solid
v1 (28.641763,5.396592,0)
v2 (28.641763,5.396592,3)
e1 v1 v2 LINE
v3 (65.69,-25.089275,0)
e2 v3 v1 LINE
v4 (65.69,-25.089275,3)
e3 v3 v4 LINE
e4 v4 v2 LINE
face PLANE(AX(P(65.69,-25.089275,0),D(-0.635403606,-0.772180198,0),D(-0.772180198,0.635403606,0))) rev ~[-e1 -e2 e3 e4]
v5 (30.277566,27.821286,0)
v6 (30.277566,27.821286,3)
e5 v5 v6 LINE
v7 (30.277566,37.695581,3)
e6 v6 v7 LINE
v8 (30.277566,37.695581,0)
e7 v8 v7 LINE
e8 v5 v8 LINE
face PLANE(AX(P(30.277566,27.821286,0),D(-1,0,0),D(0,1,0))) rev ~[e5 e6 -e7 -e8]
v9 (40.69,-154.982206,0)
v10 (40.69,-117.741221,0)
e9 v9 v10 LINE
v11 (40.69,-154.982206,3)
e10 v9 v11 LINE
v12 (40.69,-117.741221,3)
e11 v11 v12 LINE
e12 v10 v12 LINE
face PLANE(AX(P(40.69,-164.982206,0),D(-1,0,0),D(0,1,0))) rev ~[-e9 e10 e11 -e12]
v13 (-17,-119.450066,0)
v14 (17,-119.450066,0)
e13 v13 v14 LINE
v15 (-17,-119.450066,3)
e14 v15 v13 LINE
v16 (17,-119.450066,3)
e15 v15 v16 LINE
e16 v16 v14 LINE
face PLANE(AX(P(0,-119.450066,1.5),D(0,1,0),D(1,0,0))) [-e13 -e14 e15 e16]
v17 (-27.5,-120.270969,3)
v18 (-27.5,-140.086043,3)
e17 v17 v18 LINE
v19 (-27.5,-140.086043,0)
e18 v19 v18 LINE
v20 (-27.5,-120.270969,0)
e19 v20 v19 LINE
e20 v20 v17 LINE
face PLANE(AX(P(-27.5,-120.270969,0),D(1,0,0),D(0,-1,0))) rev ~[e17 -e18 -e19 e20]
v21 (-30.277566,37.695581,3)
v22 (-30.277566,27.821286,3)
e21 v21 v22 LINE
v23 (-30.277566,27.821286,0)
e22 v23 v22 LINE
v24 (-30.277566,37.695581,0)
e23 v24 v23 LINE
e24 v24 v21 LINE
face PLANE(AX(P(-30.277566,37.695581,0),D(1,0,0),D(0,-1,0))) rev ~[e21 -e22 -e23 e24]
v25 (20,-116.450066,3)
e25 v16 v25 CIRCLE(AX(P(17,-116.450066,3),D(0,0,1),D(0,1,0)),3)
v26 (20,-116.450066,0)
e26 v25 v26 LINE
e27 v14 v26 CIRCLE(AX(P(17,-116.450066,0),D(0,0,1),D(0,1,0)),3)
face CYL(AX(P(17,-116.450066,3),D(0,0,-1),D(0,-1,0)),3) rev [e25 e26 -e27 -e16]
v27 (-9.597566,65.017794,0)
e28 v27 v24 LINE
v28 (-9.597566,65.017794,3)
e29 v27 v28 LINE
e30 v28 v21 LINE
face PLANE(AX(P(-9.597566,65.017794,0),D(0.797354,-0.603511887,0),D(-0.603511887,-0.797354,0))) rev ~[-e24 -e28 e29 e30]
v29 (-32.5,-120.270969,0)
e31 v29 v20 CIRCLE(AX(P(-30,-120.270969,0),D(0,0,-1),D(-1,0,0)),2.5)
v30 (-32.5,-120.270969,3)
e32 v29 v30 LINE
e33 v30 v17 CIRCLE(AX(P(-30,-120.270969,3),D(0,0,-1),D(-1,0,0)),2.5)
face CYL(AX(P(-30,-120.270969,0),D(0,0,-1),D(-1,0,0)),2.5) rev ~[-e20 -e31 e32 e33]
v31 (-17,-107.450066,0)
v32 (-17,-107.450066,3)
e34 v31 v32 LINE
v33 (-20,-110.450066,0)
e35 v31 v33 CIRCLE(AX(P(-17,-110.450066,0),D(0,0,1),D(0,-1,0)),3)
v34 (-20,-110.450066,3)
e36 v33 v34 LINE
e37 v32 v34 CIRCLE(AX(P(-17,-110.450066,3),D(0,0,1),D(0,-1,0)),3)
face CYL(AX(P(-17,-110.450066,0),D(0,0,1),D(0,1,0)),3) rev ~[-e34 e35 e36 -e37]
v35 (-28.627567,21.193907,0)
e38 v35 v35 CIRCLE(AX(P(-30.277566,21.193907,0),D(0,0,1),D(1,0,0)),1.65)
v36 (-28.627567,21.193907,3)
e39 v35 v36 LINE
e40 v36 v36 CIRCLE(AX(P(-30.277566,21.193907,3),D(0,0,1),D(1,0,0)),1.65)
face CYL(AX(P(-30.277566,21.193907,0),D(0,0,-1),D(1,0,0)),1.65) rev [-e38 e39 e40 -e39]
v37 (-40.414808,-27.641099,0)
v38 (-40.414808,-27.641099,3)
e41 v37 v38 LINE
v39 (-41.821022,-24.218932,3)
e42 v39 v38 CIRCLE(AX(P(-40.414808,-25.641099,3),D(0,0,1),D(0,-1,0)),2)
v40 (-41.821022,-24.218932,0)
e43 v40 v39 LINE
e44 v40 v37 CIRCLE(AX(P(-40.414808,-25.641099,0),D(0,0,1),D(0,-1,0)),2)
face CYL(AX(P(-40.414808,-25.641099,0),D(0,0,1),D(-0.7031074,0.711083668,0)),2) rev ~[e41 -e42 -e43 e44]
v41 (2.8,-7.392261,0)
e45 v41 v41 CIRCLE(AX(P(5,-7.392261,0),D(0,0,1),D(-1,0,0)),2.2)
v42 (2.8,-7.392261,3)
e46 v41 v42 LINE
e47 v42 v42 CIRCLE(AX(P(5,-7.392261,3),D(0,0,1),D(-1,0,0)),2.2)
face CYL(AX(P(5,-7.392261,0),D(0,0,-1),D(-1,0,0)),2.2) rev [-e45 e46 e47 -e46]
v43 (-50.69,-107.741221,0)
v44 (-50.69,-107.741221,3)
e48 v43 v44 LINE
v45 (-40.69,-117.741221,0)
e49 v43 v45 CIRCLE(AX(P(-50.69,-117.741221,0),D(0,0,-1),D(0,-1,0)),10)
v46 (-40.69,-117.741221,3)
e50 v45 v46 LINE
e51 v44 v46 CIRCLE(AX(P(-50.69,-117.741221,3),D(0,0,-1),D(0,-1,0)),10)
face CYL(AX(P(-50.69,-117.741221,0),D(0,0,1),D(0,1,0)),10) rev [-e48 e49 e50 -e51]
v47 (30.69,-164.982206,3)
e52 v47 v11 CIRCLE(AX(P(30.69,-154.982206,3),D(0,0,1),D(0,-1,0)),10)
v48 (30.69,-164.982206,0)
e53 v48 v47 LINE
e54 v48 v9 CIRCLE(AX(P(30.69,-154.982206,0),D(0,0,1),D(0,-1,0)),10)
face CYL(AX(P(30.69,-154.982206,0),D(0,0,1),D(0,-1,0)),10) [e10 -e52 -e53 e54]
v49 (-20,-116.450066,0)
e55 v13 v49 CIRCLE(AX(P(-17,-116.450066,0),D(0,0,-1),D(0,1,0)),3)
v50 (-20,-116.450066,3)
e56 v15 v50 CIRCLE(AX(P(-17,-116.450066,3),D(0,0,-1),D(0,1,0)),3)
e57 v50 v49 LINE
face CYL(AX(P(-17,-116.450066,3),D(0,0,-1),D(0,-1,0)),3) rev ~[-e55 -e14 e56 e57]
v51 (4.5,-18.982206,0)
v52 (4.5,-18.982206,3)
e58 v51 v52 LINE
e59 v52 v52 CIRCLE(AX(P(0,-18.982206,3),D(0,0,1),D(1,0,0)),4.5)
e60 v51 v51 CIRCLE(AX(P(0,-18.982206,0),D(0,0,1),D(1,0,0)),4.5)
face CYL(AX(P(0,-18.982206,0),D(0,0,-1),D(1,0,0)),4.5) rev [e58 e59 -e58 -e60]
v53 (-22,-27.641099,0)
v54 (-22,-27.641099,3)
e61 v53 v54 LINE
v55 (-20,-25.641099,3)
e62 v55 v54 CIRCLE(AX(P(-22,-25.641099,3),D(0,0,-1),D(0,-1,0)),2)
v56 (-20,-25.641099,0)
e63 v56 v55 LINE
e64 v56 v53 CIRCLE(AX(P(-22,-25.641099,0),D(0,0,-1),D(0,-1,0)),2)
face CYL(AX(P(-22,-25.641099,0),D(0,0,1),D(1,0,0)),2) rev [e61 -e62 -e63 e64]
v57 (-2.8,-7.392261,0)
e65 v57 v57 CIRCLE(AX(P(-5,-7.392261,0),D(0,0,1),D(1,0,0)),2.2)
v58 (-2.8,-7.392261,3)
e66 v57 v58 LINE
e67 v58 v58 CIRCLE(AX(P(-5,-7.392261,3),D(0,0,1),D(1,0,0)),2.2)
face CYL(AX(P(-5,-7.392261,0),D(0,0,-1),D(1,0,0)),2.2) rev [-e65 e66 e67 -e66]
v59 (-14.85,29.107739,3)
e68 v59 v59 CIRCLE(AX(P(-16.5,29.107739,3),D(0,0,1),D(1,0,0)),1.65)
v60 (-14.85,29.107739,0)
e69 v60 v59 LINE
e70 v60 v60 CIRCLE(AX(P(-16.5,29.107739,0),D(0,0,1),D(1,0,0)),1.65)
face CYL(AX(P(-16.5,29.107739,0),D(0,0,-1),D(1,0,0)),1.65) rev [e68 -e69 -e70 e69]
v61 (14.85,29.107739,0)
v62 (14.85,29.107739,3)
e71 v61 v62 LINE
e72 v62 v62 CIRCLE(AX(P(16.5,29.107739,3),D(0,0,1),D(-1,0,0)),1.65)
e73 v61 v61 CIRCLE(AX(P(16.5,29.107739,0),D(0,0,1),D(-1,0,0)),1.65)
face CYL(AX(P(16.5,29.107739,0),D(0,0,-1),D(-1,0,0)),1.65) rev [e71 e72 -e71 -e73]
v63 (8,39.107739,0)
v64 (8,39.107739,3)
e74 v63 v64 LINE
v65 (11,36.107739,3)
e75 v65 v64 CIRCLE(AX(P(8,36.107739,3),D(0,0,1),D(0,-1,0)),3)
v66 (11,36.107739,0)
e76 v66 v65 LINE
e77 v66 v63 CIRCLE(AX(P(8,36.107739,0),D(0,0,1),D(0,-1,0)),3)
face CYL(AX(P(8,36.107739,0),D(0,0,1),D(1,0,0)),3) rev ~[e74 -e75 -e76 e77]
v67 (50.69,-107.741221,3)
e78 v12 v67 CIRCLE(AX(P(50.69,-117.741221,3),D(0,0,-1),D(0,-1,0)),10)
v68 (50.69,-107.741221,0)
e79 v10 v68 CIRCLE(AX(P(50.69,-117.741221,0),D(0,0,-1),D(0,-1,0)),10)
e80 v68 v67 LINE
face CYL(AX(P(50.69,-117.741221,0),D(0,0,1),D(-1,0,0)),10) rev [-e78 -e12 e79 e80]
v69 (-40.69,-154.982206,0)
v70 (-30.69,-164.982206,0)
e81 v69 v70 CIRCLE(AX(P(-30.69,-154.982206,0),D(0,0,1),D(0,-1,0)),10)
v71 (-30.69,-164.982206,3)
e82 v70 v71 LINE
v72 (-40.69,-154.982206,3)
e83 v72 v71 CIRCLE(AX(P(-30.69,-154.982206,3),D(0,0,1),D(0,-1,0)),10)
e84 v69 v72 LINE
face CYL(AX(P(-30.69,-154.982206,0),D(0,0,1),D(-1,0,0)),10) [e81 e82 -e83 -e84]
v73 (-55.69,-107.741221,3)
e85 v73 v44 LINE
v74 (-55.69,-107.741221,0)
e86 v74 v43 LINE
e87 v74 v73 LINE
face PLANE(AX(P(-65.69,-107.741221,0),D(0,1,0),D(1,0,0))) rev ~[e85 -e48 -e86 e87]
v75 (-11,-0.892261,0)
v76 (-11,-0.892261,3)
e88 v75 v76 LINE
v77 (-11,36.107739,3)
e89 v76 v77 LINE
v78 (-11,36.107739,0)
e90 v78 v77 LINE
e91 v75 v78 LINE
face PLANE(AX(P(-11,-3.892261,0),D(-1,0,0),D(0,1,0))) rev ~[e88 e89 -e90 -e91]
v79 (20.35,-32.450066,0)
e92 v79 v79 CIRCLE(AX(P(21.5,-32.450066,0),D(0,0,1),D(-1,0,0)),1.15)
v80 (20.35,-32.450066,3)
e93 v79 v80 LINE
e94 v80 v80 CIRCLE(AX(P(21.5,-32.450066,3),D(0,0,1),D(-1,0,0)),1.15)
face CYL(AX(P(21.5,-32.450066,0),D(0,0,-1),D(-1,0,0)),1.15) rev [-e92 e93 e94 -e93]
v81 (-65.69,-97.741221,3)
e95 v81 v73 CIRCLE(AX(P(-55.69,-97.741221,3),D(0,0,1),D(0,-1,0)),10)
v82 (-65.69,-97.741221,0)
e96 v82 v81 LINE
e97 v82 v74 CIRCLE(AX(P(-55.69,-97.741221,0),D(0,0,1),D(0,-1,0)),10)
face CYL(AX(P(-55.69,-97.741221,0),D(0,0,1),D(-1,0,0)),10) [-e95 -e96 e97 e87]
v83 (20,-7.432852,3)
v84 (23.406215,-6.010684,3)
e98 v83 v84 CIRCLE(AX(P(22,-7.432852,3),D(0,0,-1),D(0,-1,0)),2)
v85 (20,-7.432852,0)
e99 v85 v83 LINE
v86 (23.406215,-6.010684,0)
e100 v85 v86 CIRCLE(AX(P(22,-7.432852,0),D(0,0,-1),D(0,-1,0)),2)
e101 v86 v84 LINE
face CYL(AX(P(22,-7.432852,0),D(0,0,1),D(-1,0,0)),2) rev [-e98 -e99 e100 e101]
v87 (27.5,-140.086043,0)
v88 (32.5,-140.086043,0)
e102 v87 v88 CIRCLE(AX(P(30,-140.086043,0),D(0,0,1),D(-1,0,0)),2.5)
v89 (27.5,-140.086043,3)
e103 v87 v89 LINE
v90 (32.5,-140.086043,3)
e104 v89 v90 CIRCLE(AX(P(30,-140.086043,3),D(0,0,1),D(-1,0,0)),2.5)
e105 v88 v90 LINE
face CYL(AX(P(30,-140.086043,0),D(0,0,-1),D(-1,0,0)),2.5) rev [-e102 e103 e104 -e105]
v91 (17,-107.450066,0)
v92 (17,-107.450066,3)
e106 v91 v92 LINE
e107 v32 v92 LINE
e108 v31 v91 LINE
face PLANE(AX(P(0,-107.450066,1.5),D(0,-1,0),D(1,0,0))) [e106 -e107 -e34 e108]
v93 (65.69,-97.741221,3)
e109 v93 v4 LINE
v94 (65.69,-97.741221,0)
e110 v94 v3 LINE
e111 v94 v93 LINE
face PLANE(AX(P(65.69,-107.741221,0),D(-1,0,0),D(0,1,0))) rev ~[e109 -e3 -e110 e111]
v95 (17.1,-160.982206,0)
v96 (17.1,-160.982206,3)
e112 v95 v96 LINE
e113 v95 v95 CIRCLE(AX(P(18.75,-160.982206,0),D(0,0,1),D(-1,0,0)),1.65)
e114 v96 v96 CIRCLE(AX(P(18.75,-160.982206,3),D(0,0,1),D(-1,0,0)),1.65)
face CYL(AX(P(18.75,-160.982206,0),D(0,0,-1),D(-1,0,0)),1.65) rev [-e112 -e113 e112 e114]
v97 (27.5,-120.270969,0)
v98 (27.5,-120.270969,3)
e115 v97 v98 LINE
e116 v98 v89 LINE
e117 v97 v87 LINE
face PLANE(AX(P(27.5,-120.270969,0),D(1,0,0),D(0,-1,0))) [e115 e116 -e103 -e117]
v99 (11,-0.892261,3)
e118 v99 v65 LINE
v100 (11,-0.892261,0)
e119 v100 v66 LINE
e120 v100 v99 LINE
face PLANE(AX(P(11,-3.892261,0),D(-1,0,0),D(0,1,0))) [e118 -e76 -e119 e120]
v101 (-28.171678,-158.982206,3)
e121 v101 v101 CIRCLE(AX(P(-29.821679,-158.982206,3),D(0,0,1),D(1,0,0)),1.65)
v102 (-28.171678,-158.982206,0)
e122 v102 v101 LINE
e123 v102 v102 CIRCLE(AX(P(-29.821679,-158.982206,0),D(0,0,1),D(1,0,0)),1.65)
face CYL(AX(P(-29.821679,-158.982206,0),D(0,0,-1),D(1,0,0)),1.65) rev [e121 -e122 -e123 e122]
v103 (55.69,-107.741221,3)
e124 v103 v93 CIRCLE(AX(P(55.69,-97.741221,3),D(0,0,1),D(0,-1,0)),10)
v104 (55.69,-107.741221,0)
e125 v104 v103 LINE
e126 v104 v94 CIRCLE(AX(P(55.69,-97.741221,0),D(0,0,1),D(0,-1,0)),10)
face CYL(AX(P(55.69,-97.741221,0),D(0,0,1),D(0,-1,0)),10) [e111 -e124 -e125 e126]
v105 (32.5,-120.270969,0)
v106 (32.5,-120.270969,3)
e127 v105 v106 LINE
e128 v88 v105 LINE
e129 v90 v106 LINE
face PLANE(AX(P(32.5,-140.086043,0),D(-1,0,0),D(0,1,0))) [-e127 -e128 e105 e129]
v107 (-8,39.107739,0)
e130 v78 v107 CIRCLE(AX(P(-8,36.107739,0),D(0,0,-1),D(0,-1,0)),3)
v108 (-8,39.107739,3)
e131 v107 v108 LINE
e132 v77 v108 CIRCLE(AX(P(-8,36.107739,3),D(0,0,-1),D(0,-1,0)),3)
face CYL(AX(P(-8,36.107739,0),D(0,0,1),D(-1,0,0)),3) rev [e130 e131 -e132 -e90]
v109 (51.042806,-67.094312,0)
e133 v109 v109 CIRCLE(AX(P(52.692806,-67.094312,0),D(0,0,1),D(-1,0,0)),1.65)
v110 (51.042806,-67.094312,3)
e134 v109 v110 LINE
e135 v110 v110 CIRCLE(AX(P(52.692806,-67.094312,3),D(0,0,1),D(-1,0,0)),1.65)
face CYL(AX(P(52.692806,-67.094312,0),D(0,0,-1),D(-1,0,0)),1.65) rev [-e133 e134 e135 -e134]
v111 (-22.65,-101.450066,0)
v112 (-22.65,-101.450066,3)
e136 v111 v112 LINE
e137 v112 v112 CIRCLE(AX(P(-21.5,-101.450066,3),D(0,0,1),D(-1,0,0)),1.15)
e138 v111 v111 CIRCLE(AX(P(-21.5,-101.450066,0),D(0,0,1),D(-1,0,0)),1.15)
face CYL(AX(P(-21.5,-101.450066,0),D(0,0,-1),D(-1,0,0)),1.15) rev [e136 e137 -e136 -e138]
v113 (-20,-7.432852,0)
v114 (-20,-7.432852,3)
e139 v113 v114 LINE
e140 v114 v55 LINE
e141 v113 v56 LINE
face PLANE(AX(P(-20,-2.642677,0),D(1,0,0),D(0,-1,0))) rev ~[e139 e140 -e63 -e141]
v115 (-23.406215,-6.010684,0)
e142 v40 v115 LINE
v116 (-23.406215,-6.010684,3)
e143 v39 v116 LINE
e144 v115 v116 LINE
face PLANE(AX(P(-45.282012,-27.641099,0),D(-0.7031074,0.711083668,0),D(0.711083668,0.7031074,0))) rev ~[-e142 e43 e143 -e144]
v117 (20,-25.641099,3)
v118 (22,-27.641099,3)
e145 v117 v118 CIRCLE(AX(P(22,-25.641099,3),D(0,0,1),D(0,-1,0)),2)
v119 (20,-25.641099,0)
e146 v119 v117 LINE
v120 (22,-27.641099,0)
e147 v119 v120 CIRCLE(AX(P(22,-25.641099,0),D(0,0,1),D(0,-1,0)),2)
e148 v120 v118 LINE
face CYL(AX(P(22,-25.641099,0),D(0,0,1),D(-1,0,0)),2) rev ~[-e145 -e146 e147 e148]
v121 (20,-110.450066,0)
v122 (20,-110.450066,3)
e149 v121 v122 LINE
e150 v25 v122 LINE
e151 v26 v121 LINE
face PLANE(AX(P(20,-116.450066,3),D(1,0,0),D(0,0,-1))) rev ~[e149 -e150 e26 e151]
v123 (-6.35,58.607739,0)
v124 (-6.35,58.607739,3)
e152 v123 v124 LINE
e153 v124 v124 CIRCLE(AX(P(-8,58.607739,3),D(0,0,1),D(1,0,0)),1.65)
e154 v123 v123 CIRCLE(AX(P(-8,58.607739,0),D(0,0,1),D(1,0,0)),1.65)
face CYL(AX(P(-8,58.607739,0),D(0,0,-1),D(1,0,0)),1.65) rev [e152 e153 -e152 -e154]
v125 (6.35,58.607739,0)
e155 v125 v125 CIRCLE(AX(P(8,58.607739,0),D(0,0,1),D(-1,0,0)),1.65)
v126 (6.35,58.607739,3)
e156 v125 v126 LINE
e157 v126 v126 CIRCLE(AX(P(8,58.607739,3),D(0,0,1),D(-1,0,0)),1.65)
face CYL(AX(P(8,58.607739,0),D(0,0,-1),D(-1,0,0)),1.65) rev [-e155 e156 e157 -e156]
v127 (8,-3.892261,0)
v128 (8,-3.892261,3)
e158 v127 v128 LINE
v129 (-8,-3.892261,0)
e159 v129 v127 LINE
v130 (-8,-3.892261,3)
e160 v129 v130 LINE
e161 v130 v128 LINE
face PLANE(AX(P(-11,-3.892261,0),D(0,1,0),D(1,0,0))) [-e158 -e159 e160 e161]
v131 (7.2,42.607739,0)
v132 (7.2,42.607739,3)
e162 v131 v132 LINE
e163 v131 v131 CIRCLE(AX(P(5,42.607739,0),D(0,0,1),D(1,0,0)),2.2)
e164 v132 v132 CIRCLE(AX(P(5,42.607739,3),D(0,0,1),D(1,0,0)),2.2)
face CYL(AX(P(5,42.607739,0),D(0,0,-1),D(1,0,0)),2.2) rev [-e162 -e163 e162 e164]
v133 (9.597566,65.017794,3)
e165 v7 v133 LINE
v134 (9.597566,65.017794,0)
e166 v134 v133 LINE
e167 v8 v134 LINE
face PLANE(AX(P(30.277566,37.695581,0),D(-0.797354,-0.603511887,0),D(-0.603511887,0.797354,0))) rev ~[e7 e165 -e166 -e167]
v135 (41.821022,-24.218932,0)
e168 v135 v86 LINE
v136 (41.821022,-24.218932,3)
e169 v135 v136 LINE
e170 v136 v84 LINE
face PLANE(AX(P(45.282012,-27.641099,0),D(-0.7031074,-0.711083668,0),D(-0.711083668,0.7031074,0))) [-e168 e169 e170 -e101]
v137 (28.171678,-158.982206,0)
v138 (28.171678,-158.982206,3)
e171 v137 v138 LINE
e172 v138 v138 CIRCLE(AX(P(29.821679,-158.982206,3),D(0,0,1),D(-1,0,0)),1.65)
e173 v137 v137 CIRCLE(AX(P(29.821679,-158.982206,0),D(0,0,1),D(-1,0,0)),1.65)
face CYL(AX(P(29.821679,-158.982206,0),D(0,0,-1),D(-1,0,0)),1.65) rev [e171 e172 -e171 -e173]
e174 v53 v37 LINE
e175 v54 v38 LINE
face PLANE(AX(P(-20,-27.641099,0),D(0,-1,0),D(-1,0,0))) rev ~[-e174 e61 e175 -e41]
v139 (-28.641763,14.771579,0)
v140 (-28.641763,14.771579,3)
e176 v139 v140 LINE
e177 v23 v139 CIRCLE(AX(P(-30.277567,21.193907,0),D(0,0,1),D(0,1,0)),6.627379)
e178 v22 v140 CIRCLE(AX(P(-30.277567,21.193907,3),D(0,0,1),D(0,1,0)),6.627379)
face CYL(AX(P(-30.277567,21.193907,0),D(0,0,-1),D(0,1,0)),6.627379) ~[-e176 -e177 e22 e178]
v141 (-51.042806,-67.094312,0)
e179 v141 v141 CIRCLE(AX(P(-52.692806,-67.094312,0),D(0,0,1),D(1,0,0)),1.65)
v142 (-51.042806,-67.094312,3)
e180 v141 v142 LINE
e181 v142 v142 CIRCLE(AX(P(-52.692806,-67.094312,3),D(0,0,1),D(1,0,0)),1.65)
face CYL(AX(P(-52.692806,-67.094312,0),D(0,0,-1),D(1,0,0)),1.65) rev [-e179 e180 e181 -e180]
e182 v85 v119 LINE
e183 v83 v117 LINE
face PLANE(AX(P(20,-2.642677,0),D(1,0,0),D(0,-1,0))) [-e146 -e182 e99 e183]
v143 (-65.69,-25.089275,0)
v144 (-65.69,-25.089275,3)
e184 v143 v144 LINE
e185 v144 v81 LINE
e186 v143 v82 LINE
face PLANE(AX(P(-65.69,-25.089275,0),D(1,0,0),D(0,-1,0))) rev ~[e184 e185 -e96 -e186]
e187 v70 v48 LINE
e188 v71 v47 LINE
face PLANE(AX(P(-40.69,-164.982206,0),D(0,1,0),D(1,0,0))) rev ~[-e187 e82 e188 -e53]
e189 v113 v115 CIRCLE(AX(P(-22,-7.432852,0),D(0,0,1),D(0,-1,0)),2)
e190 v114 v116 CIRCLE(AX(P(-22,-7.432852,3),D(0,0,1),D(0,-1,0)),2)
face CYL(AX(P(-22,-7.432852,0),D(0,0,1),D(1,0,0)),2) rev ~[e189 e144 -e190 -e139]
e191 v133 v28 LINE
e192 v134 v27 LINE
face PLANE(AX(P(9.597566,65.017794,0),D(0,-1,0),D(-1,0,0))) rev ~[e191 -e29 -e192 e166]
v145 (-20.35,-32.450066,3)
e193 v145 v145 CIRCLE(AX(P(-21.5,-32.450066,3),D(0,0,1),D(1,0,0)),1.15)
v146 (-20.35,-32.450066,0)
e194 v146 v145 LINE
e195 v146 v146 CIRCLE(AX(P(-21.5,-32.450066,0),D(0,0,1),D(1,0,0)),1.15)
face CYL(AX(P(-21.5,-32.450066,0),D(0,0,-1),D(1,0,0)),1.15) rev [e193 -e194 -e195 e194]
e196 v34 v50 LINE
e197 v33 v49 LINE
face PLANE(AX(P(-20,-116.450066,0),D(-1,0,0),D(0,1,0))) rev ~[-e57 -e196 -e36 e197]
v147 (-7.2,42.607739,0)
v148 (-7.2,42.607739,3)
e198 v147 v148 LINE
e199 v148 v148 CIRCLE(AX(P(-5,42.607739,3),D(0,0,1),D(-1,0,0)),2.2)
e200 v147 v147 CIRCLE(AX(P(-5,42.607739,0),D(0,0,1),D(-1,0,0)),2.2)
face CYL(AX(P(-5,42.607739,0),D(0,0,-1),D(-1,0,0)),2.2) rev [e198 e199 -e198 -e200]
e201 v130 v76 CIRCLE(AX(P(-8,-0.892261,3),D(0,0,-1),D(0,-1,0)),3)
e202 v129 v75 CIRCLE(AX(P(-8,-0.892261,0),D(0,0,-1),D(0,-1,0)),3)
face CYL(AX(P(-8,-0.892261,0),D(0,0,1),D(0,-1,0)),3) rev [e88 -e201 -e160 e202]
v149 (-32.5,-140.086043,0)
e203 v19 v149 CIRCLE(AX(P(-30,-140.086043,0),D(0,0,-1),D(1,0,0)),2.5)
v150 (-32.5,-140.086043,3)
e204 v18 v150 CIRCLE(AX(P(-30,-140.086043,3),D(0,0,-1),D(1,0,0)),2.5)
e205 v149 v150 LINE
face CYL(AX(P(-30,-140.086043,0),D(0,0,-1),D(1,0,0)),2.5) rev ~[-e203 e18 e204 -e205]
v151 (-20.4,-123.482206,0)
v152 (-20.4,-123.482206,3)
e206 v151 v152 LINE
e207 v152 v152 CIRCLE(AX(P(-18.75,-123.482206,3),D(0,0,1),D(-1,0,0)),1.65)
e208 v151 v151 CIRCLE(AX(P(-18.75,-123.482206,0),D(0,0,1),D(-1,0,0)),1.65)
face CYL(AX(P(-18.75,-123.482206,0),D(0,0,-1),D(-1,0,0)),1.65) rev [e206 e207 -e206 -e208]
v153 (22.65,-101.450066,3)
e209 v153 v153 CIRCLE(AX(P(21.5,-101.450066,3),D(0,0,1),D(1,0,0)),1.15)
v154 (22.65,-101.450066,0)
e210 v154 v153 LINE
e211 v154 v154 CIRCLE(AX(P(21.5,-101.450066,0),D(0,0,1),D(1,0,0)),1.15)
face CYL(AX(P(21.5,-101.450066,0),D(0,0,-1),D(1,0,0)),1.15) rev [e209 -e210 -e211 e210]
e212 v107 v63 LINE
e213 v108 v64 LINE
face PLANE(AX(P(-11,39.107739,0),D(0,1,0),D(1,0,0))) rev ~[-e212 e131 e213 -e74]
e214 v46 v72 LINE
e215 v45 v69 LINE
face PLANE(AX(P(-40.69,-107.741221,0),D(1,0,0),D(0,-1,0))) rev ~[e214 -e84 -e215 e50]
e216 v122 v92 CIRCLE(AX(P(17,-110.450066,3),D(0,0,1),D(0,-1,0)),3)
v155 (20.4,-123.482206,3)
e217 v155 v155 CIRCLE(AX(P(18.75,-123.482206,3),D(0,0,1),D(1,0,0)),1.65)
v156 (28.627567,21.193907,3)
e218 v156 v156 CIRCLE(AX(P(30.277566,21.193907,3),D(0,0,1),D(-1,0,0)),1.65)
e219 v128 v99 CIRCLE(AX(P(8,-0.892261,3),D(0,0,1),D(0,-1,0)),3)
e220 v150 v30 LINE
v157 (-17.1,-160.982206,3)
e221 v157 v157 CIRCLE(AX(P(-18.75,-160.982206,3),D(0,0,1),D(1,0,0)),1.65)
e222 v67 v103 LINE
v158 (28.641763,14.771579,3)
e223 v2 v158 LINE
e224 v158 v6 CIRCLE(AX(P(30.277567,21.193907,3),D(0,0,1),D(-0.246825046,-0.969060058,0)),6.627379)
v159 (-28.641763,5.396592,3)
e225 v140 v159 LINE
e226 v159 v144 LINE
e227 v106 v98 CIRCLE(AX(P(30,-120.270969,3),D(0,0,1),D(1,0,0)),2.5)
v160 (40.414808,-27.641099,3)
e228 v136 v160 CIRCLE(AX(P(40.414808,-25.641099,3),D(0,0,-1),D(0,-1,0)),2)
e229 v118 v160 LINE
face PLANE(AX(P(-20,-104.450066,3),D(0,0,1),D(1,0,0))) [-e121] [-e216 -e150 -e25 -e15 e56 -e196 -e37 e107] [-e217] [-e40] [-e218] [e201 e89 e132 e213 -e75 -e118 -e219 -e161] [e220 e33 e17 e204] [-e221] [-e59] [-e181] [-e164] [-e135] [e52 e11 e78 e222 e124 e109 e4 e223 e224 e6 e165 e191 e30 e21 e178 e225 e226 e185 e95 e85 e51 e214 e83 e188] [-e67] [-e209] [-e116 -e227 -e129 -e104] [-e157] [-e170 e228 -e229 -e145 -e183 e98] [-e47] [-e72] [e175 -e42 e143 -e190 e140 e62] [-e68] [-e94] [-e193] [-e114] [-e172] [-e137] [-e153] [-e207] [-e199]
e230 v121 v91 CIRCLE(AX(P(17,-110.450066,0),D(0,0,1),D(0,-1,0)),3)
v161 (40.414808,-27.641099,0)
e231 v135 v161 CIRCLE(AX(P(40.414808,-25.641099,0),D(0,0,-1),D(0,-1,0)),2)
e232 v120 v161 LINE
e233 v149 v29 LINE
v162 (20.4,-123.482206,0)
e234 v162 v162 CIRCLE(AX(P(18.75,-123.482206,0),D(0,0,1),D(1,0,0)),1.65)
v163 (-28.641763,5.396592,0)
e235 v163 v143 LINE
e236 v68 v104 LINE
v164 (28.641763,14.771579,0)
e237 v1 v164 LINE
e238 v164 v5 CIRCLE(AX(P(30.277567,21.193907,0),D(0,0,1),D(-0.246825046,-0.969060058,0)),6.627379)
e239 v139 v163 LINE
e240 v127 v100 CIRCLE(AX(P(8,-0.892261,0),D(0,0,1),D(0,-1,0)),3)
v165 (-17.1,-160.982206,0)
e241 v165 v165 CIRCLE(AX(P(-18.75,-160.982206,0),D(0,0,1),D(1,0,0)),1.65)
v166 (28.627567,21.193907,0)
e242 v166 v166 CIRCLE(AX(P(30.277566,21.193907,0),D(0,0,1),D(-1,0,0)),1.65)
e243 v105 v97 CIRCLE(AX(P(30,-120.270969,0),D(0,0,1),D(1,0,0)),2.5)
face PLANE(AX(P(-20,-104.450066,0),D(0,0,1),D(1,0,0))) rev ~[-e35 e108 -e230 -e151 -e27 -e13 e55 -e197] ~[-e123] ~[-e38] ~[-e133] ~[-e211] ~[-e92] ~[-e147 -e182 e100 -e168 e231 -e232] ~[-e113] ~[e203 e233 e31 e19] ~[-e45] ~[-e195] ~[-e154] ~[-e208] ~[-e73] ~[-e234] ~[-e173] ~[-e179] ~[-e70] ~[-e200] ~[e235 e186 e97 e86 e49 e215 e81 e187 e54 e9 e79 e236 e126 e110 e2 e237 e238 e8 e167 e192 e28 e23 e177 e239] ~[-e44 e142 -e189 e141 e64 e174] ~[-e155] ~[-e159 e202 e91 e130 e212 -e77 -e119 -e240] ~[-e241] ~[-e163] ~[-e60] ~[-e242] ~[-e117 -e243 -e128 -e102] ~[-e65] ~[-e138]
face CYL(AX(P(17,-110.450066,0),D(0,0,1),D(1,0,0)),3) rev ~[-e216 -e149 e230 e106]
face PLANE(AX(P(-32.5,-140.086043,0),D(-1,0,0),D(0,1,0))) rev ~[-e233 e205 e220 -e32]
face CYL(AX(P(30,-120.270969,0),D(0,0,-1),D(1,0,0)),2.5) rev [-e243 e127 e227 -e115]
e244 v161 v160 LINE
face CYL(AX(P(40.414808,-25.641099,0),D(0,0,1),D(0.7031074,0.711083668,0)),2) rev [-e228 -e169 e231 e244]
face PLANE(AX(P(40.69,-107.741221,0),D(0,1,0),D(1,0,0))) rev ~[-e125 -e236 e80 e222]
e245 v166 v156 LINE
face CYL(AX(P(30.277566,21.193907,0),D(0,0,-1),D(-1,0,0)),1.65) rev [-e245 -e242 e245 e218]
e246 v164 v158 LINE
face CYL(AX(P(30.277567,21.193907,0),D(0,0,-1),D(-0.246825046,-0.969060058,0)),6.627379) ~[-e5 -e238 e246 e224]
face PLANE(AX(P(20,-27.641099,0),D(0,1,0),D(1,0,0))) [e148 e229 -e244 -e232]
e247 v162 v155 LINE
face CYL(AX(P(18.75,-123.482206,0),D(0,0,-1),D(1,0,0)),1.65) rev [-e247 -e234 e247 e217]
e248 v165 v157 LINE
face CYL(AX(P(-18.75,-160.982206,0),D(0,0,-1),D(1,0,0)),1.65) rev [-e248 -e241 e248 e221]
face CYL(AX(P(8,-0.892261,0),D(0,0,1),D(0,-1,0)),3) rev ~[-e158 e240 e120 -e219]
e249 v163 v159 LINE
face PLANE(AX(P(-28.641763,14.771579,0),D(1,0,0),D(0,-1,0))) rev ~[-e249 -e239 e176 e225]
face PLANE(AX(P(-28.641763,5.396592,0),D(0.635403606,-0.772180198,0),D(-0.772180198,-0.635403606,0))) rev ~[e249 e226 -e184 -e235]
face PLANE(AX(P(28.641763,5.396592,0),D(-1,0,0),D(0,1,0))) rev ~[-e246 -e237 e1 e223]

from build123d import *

# Parameters (mm, degrees)
SKETCH1_R           = 1.65
SKETCH1_R_2         = 4.5
SKETCH1_R_3         = 2.2
SKETCH1_R_4         = 1.15
SKETCH1_W           = 22
SKETCH1_H           = 43
SKETCH1_W_2         = 40
SKETCH1_H_2         = 12
BOSS_EXTRUDE1_DEPTH = 3
FILLET2_R           = 3
FILLET3_R           = 2
FILLET4_R           = 10
SKETCH2_W           = 40
SKETCH2_H           = 3
BOSS_EXTRUDE2_DEPTH = 3
SKETCH3_W           = 40
SKETCH3_H           = 3
CUT_EXTRUDE1_DEPTH  = 3
FILLET5_R           = 3


with BuildPart() as part:
    # Sketch1 → Boss-Extrude1 (new body)
    with BuildSketch(Plane.XY):
        with BuildLine():
            Line((-65.69, -25.08927508), (-65.69, -107.741221405))
            Line((-65.69, -107.741221405), (-40.69, -107.741221405))
            Line((-40.69, -107.741221405), (-40.69, -164.982205675))
            Line((-40.69, -164.982205675), (40.69, -164.982205675))
            Line((40.69, -164.982205675), (40.69, -107.741221405))
            Line((40.69, -107.741221405), (65.69, -107.741221405))
            Line((65.69, -107.741221405), (65.69, -25.08927508))
            Line((65.69, -25.08927508), (28.641763355, 5.396592354))
            Line((28.641763355, 5.396592354), (28.641763355, 14.771578959))
            ThreePointArc((28.641763355, 14.771578959), (36.853483101, 20.369604934), (30.2775665, 27.821286413))
            Line((30.2775665, 27.821286413), (30.2775665, 37.695580673))
            Line((30.2775665, 37.695580673), (9.5975665, 65.017794325))
            Line((9.5975665, 65.017794325), (-9.5975665, 65.017794325))
            Line((-9.5975665, 65.017794325), (-30.2775665, 37.695580673))
            Line((-30.2775665, 37.695580673), (-30.2775665, 27.821286413))
            ThreePointArc((-30.2775665, 27.821286413), (-36.853483101, 20.369604934), (-28.641763355, 14.771578959))
            Line((-28.641763355, 14.771578959), (-28.641763355, 5.396592354))
            Line((-28.641763355, 5.396592354), (-65.69, -25.08927508))
        make_face()
        with Locations((-30.2775665, 21.193907325)):
            Circle(SKETCH1_R, mode=Mode.SUBTRACT)
        with Locations((-29.8216785, -158.982205675)):
            Circle(SKETCH1_R, mode=Mode.SUBTRACT)
        with Locations((-52.692806, -67.094311675)):
            Circle(SKETCH1_R, mode=Mode.SUBTRACT)
        with Locations(Location((30.2775665, 21.193907325, 0), (0, 0, 180))):
            Circle(SKETCH1_R, mode=Mode.SUBTRACT)
        with Locations(Location((52.692806, -67.094311675, 0), (0, 0, 180))):
            Circle(SKETCH1_R, mode=Mode.SUBTRACT)
        with Locations(Location((29.8216785, -158.982205675, 0), (0, 0, 180))):
            Circle(SKETCH1_R, mode=Mode.SUBTRACT)
        with Locations((0, -18.982205675)):
            Circle(SKETCH1_R_2, mode=Mode.SUBTRACT)
        with Locations((-16.5, 29.107738598)):
            Circle(SKETCH1_R, mode=Mode.SUBTRACT)
        with Locations(Location((16.5, 29.107738598, 0), (0, 0, 180))):
            Circle(SKETCH1_R, mode=Mode.SUBTRACT)
        with Locations((-8, 58.607738598)):
            Circle(SKETCH1_R, mode=Mode.SUBTRACT)
        with Locations(Location((8, 58.607738598, 0), (0, 0, 180))):
            Circle(SKETCH1_R, mode=Mode.SUBTRACT)
        with Locations((5, 42.607738598)):
            Circle(SKETCH1_R_3, mode=Mode.SUBTRACT)
        with Locations(Location((-5, 42.607738598, 0), (0, 0, 180))):
            Circle(SKETCH1_R_3, mode=Mode.SUBTRACT)
        with Locations(Location((5, -7.392261402, 0), (0, 0, 180))):
            Circle(SKETCH1_R_3, mode=Mode.SUBTRACT)
        with Locations((-5, -7.392261402)):
            Circle(SKETCH1_R_3, mode=Mode.SUBTRACT)
        with Locations((-18.75, -160.982205675)):
            Circle(SKETCH1_R, mode=Mode.SUBTRACT)
        with Locations(Location((18.75, -160.982205675, 0), (0, 0, 180))):
            Circle(SKETCH1_R, mode=Mode.SUBTRACT)
        with Locations((18.75, -123.482205675)):
            Circle(SKETCH1_R, mode=Mode.SUBTRACT)
        with Locations(Location((-18.75, -123.482205675, 0), (0, 0, 180))):
            Circle(SKETCH1_R, mode=Mode.SUBTRACT)
        with Locations((21.5, -101.450066073)):
            Circle(SKETCH1_R_4, mode=Mode.SUBTRACT)
        with Locations(Location((-21.5, -101.450066073, 0), (0, 0, 180))):
            Circle(SKETCH1_R_4, mode=Mode.SUBTRACT)
        with Locations(Location((21.5, -32.450066073, 0), (0, 0, 180))):
            Circle(SKETCH1_R_4, mode=Mode.SUBTRACT)
        with Locations((-21.5, -32.450066073)):
            Circle(SKETCH1_R_4, mode=Mode.SUBTRACT)
        with Locations((0, 17.607738598)):
            Rectangle(SKETCH1_W, SKETCH1_H, mode=Mode.SUBTRACT)
        with Locations((0, -110.450066073)):
            Rectangle(SKETCH1_W_2, SKETCH1_H_2, mode=Mode.SUBTRACT)
        with BuildLine():
            Line((-27.5, -120.270969271), (-27.5, -140.086043436))
            ThreePointArc((-27.5, -140.086043436), (-30, -142.586043436), (-32.5, -140.086043436))
            Line((-32.5, -140.086043436), (-32.5, -120.270969271))
            ThreePointArc((-32.5, -120.270969271), (-30, -117.770969271), (-27.5, -120.270969271))
        make_face(mode=Mode.SUBTRACT)
        with BuildLine():
            Line((27.5, -120.270969271), (27.5, -140.086043436))
            ThreePointArc((27.5, -140.086043436), (30, -142.586043436), (32.5, -140.086043436))
            Line((32.5, -140.086043436), (32.5, -120.270969271))
            ThreePointArc((32.5, -120.270969271), (30, -117.770969271), (27.5, -120.270969271))
        make_face(mode=Mode.SUBTRACT)
        Polygon((20, -2.642677247), (20, -27.641099182), (45.282011772, -27.641099182), align=None, mode=Mode.SUBTRACT)
        Polygon((-20, -27.641099182), (-45.282011772, -27.641099182), (-20, -2.642677247), align=None, mode=Mode.SUBTRACT)
    extrude(amount=BOSS_EXTRUDE1_DEPTH)

    # Fillet2
    fillet2_edges = [part.edges().sort_by_distance(p)[0] for p in [
        (11, -3.892261402, 1.5),
        (11, 39.107738598, 1.5),
        (-11, 39.107738598, 1.5),
        (-11, -3.892261402, 1.5),
    ]]
    fillet(fillet2_edges, radius=FILLET2_R)

    # Fillet3
    fillet3_edges = [part.edges().sort_by_distance(p)[0] for p in [
        (45.282011772, -27.641099182, 1.5),
        (20, -2.642677247, 1.5),
        (20, -27.641099182, 1.5),
        (-20, -27.641099182, 1.5),
        (-20, -2.642677247, 1.5),
        (-45.282011772, -27.641099182, 1.5),
    ]]
    fillet(fillet3_edges, radius=FILLET3_R)

    # Fillet4
    fillet4_edges = [part.edges().sort_by_distance(p)[0] for p in [
        (65.69, -107.741221405, 1.5),
        (40.69, -107.741221405, 1.5),
        (40.69, -164.982205675, 1.5),
        (-40.69, -164.982205675, 1.5),
        (-40.69, -107.741221405, 1.5),
        (-65.69, -107.741221405, 1.5),
    ]]
    fillet(fillet4_edges, radius=FILLET4_R)

    # Sketch2 → Boss-Extrude2 (add)
    with BuildSketch(Plane.XZ.offset(104.450066073)):
        with Locations((0, 1.5)):
            Rectangle(SKETCH2_W, SKETCH2_H)
    extrude(amount=BOSS_EXTRUDE2_DEPTH)

    # Sketch3 → Cut-Extrude1 (cut)
    with BuildSketch(Plane(origin=(0, -116.450066073, 0), x_dir=(1, 0, 0), z_dir=(0, 1, 0))):
        with Locations((0, -1.5)):
            Rectangle(SKETCH3_W, SKETCH3_H)
    extrude(amount=-CUT_EXTRUDE1_DEPTH, mode=Mode.SUBTRACT)

    # Fillet5
    fillet5_edges = [part.edges().sort_by_distance(p)[0] for p in [
        (-20, -107.450066073, 1.5),
        (20, -107.450066073, 1.5),
        (-20, -119.450066073, 1.5),
        (20, -119.450066073, 1.5),
    ]]
    fillet(fillet5_edges, radius=FILLET5_R)


solid = part.part
